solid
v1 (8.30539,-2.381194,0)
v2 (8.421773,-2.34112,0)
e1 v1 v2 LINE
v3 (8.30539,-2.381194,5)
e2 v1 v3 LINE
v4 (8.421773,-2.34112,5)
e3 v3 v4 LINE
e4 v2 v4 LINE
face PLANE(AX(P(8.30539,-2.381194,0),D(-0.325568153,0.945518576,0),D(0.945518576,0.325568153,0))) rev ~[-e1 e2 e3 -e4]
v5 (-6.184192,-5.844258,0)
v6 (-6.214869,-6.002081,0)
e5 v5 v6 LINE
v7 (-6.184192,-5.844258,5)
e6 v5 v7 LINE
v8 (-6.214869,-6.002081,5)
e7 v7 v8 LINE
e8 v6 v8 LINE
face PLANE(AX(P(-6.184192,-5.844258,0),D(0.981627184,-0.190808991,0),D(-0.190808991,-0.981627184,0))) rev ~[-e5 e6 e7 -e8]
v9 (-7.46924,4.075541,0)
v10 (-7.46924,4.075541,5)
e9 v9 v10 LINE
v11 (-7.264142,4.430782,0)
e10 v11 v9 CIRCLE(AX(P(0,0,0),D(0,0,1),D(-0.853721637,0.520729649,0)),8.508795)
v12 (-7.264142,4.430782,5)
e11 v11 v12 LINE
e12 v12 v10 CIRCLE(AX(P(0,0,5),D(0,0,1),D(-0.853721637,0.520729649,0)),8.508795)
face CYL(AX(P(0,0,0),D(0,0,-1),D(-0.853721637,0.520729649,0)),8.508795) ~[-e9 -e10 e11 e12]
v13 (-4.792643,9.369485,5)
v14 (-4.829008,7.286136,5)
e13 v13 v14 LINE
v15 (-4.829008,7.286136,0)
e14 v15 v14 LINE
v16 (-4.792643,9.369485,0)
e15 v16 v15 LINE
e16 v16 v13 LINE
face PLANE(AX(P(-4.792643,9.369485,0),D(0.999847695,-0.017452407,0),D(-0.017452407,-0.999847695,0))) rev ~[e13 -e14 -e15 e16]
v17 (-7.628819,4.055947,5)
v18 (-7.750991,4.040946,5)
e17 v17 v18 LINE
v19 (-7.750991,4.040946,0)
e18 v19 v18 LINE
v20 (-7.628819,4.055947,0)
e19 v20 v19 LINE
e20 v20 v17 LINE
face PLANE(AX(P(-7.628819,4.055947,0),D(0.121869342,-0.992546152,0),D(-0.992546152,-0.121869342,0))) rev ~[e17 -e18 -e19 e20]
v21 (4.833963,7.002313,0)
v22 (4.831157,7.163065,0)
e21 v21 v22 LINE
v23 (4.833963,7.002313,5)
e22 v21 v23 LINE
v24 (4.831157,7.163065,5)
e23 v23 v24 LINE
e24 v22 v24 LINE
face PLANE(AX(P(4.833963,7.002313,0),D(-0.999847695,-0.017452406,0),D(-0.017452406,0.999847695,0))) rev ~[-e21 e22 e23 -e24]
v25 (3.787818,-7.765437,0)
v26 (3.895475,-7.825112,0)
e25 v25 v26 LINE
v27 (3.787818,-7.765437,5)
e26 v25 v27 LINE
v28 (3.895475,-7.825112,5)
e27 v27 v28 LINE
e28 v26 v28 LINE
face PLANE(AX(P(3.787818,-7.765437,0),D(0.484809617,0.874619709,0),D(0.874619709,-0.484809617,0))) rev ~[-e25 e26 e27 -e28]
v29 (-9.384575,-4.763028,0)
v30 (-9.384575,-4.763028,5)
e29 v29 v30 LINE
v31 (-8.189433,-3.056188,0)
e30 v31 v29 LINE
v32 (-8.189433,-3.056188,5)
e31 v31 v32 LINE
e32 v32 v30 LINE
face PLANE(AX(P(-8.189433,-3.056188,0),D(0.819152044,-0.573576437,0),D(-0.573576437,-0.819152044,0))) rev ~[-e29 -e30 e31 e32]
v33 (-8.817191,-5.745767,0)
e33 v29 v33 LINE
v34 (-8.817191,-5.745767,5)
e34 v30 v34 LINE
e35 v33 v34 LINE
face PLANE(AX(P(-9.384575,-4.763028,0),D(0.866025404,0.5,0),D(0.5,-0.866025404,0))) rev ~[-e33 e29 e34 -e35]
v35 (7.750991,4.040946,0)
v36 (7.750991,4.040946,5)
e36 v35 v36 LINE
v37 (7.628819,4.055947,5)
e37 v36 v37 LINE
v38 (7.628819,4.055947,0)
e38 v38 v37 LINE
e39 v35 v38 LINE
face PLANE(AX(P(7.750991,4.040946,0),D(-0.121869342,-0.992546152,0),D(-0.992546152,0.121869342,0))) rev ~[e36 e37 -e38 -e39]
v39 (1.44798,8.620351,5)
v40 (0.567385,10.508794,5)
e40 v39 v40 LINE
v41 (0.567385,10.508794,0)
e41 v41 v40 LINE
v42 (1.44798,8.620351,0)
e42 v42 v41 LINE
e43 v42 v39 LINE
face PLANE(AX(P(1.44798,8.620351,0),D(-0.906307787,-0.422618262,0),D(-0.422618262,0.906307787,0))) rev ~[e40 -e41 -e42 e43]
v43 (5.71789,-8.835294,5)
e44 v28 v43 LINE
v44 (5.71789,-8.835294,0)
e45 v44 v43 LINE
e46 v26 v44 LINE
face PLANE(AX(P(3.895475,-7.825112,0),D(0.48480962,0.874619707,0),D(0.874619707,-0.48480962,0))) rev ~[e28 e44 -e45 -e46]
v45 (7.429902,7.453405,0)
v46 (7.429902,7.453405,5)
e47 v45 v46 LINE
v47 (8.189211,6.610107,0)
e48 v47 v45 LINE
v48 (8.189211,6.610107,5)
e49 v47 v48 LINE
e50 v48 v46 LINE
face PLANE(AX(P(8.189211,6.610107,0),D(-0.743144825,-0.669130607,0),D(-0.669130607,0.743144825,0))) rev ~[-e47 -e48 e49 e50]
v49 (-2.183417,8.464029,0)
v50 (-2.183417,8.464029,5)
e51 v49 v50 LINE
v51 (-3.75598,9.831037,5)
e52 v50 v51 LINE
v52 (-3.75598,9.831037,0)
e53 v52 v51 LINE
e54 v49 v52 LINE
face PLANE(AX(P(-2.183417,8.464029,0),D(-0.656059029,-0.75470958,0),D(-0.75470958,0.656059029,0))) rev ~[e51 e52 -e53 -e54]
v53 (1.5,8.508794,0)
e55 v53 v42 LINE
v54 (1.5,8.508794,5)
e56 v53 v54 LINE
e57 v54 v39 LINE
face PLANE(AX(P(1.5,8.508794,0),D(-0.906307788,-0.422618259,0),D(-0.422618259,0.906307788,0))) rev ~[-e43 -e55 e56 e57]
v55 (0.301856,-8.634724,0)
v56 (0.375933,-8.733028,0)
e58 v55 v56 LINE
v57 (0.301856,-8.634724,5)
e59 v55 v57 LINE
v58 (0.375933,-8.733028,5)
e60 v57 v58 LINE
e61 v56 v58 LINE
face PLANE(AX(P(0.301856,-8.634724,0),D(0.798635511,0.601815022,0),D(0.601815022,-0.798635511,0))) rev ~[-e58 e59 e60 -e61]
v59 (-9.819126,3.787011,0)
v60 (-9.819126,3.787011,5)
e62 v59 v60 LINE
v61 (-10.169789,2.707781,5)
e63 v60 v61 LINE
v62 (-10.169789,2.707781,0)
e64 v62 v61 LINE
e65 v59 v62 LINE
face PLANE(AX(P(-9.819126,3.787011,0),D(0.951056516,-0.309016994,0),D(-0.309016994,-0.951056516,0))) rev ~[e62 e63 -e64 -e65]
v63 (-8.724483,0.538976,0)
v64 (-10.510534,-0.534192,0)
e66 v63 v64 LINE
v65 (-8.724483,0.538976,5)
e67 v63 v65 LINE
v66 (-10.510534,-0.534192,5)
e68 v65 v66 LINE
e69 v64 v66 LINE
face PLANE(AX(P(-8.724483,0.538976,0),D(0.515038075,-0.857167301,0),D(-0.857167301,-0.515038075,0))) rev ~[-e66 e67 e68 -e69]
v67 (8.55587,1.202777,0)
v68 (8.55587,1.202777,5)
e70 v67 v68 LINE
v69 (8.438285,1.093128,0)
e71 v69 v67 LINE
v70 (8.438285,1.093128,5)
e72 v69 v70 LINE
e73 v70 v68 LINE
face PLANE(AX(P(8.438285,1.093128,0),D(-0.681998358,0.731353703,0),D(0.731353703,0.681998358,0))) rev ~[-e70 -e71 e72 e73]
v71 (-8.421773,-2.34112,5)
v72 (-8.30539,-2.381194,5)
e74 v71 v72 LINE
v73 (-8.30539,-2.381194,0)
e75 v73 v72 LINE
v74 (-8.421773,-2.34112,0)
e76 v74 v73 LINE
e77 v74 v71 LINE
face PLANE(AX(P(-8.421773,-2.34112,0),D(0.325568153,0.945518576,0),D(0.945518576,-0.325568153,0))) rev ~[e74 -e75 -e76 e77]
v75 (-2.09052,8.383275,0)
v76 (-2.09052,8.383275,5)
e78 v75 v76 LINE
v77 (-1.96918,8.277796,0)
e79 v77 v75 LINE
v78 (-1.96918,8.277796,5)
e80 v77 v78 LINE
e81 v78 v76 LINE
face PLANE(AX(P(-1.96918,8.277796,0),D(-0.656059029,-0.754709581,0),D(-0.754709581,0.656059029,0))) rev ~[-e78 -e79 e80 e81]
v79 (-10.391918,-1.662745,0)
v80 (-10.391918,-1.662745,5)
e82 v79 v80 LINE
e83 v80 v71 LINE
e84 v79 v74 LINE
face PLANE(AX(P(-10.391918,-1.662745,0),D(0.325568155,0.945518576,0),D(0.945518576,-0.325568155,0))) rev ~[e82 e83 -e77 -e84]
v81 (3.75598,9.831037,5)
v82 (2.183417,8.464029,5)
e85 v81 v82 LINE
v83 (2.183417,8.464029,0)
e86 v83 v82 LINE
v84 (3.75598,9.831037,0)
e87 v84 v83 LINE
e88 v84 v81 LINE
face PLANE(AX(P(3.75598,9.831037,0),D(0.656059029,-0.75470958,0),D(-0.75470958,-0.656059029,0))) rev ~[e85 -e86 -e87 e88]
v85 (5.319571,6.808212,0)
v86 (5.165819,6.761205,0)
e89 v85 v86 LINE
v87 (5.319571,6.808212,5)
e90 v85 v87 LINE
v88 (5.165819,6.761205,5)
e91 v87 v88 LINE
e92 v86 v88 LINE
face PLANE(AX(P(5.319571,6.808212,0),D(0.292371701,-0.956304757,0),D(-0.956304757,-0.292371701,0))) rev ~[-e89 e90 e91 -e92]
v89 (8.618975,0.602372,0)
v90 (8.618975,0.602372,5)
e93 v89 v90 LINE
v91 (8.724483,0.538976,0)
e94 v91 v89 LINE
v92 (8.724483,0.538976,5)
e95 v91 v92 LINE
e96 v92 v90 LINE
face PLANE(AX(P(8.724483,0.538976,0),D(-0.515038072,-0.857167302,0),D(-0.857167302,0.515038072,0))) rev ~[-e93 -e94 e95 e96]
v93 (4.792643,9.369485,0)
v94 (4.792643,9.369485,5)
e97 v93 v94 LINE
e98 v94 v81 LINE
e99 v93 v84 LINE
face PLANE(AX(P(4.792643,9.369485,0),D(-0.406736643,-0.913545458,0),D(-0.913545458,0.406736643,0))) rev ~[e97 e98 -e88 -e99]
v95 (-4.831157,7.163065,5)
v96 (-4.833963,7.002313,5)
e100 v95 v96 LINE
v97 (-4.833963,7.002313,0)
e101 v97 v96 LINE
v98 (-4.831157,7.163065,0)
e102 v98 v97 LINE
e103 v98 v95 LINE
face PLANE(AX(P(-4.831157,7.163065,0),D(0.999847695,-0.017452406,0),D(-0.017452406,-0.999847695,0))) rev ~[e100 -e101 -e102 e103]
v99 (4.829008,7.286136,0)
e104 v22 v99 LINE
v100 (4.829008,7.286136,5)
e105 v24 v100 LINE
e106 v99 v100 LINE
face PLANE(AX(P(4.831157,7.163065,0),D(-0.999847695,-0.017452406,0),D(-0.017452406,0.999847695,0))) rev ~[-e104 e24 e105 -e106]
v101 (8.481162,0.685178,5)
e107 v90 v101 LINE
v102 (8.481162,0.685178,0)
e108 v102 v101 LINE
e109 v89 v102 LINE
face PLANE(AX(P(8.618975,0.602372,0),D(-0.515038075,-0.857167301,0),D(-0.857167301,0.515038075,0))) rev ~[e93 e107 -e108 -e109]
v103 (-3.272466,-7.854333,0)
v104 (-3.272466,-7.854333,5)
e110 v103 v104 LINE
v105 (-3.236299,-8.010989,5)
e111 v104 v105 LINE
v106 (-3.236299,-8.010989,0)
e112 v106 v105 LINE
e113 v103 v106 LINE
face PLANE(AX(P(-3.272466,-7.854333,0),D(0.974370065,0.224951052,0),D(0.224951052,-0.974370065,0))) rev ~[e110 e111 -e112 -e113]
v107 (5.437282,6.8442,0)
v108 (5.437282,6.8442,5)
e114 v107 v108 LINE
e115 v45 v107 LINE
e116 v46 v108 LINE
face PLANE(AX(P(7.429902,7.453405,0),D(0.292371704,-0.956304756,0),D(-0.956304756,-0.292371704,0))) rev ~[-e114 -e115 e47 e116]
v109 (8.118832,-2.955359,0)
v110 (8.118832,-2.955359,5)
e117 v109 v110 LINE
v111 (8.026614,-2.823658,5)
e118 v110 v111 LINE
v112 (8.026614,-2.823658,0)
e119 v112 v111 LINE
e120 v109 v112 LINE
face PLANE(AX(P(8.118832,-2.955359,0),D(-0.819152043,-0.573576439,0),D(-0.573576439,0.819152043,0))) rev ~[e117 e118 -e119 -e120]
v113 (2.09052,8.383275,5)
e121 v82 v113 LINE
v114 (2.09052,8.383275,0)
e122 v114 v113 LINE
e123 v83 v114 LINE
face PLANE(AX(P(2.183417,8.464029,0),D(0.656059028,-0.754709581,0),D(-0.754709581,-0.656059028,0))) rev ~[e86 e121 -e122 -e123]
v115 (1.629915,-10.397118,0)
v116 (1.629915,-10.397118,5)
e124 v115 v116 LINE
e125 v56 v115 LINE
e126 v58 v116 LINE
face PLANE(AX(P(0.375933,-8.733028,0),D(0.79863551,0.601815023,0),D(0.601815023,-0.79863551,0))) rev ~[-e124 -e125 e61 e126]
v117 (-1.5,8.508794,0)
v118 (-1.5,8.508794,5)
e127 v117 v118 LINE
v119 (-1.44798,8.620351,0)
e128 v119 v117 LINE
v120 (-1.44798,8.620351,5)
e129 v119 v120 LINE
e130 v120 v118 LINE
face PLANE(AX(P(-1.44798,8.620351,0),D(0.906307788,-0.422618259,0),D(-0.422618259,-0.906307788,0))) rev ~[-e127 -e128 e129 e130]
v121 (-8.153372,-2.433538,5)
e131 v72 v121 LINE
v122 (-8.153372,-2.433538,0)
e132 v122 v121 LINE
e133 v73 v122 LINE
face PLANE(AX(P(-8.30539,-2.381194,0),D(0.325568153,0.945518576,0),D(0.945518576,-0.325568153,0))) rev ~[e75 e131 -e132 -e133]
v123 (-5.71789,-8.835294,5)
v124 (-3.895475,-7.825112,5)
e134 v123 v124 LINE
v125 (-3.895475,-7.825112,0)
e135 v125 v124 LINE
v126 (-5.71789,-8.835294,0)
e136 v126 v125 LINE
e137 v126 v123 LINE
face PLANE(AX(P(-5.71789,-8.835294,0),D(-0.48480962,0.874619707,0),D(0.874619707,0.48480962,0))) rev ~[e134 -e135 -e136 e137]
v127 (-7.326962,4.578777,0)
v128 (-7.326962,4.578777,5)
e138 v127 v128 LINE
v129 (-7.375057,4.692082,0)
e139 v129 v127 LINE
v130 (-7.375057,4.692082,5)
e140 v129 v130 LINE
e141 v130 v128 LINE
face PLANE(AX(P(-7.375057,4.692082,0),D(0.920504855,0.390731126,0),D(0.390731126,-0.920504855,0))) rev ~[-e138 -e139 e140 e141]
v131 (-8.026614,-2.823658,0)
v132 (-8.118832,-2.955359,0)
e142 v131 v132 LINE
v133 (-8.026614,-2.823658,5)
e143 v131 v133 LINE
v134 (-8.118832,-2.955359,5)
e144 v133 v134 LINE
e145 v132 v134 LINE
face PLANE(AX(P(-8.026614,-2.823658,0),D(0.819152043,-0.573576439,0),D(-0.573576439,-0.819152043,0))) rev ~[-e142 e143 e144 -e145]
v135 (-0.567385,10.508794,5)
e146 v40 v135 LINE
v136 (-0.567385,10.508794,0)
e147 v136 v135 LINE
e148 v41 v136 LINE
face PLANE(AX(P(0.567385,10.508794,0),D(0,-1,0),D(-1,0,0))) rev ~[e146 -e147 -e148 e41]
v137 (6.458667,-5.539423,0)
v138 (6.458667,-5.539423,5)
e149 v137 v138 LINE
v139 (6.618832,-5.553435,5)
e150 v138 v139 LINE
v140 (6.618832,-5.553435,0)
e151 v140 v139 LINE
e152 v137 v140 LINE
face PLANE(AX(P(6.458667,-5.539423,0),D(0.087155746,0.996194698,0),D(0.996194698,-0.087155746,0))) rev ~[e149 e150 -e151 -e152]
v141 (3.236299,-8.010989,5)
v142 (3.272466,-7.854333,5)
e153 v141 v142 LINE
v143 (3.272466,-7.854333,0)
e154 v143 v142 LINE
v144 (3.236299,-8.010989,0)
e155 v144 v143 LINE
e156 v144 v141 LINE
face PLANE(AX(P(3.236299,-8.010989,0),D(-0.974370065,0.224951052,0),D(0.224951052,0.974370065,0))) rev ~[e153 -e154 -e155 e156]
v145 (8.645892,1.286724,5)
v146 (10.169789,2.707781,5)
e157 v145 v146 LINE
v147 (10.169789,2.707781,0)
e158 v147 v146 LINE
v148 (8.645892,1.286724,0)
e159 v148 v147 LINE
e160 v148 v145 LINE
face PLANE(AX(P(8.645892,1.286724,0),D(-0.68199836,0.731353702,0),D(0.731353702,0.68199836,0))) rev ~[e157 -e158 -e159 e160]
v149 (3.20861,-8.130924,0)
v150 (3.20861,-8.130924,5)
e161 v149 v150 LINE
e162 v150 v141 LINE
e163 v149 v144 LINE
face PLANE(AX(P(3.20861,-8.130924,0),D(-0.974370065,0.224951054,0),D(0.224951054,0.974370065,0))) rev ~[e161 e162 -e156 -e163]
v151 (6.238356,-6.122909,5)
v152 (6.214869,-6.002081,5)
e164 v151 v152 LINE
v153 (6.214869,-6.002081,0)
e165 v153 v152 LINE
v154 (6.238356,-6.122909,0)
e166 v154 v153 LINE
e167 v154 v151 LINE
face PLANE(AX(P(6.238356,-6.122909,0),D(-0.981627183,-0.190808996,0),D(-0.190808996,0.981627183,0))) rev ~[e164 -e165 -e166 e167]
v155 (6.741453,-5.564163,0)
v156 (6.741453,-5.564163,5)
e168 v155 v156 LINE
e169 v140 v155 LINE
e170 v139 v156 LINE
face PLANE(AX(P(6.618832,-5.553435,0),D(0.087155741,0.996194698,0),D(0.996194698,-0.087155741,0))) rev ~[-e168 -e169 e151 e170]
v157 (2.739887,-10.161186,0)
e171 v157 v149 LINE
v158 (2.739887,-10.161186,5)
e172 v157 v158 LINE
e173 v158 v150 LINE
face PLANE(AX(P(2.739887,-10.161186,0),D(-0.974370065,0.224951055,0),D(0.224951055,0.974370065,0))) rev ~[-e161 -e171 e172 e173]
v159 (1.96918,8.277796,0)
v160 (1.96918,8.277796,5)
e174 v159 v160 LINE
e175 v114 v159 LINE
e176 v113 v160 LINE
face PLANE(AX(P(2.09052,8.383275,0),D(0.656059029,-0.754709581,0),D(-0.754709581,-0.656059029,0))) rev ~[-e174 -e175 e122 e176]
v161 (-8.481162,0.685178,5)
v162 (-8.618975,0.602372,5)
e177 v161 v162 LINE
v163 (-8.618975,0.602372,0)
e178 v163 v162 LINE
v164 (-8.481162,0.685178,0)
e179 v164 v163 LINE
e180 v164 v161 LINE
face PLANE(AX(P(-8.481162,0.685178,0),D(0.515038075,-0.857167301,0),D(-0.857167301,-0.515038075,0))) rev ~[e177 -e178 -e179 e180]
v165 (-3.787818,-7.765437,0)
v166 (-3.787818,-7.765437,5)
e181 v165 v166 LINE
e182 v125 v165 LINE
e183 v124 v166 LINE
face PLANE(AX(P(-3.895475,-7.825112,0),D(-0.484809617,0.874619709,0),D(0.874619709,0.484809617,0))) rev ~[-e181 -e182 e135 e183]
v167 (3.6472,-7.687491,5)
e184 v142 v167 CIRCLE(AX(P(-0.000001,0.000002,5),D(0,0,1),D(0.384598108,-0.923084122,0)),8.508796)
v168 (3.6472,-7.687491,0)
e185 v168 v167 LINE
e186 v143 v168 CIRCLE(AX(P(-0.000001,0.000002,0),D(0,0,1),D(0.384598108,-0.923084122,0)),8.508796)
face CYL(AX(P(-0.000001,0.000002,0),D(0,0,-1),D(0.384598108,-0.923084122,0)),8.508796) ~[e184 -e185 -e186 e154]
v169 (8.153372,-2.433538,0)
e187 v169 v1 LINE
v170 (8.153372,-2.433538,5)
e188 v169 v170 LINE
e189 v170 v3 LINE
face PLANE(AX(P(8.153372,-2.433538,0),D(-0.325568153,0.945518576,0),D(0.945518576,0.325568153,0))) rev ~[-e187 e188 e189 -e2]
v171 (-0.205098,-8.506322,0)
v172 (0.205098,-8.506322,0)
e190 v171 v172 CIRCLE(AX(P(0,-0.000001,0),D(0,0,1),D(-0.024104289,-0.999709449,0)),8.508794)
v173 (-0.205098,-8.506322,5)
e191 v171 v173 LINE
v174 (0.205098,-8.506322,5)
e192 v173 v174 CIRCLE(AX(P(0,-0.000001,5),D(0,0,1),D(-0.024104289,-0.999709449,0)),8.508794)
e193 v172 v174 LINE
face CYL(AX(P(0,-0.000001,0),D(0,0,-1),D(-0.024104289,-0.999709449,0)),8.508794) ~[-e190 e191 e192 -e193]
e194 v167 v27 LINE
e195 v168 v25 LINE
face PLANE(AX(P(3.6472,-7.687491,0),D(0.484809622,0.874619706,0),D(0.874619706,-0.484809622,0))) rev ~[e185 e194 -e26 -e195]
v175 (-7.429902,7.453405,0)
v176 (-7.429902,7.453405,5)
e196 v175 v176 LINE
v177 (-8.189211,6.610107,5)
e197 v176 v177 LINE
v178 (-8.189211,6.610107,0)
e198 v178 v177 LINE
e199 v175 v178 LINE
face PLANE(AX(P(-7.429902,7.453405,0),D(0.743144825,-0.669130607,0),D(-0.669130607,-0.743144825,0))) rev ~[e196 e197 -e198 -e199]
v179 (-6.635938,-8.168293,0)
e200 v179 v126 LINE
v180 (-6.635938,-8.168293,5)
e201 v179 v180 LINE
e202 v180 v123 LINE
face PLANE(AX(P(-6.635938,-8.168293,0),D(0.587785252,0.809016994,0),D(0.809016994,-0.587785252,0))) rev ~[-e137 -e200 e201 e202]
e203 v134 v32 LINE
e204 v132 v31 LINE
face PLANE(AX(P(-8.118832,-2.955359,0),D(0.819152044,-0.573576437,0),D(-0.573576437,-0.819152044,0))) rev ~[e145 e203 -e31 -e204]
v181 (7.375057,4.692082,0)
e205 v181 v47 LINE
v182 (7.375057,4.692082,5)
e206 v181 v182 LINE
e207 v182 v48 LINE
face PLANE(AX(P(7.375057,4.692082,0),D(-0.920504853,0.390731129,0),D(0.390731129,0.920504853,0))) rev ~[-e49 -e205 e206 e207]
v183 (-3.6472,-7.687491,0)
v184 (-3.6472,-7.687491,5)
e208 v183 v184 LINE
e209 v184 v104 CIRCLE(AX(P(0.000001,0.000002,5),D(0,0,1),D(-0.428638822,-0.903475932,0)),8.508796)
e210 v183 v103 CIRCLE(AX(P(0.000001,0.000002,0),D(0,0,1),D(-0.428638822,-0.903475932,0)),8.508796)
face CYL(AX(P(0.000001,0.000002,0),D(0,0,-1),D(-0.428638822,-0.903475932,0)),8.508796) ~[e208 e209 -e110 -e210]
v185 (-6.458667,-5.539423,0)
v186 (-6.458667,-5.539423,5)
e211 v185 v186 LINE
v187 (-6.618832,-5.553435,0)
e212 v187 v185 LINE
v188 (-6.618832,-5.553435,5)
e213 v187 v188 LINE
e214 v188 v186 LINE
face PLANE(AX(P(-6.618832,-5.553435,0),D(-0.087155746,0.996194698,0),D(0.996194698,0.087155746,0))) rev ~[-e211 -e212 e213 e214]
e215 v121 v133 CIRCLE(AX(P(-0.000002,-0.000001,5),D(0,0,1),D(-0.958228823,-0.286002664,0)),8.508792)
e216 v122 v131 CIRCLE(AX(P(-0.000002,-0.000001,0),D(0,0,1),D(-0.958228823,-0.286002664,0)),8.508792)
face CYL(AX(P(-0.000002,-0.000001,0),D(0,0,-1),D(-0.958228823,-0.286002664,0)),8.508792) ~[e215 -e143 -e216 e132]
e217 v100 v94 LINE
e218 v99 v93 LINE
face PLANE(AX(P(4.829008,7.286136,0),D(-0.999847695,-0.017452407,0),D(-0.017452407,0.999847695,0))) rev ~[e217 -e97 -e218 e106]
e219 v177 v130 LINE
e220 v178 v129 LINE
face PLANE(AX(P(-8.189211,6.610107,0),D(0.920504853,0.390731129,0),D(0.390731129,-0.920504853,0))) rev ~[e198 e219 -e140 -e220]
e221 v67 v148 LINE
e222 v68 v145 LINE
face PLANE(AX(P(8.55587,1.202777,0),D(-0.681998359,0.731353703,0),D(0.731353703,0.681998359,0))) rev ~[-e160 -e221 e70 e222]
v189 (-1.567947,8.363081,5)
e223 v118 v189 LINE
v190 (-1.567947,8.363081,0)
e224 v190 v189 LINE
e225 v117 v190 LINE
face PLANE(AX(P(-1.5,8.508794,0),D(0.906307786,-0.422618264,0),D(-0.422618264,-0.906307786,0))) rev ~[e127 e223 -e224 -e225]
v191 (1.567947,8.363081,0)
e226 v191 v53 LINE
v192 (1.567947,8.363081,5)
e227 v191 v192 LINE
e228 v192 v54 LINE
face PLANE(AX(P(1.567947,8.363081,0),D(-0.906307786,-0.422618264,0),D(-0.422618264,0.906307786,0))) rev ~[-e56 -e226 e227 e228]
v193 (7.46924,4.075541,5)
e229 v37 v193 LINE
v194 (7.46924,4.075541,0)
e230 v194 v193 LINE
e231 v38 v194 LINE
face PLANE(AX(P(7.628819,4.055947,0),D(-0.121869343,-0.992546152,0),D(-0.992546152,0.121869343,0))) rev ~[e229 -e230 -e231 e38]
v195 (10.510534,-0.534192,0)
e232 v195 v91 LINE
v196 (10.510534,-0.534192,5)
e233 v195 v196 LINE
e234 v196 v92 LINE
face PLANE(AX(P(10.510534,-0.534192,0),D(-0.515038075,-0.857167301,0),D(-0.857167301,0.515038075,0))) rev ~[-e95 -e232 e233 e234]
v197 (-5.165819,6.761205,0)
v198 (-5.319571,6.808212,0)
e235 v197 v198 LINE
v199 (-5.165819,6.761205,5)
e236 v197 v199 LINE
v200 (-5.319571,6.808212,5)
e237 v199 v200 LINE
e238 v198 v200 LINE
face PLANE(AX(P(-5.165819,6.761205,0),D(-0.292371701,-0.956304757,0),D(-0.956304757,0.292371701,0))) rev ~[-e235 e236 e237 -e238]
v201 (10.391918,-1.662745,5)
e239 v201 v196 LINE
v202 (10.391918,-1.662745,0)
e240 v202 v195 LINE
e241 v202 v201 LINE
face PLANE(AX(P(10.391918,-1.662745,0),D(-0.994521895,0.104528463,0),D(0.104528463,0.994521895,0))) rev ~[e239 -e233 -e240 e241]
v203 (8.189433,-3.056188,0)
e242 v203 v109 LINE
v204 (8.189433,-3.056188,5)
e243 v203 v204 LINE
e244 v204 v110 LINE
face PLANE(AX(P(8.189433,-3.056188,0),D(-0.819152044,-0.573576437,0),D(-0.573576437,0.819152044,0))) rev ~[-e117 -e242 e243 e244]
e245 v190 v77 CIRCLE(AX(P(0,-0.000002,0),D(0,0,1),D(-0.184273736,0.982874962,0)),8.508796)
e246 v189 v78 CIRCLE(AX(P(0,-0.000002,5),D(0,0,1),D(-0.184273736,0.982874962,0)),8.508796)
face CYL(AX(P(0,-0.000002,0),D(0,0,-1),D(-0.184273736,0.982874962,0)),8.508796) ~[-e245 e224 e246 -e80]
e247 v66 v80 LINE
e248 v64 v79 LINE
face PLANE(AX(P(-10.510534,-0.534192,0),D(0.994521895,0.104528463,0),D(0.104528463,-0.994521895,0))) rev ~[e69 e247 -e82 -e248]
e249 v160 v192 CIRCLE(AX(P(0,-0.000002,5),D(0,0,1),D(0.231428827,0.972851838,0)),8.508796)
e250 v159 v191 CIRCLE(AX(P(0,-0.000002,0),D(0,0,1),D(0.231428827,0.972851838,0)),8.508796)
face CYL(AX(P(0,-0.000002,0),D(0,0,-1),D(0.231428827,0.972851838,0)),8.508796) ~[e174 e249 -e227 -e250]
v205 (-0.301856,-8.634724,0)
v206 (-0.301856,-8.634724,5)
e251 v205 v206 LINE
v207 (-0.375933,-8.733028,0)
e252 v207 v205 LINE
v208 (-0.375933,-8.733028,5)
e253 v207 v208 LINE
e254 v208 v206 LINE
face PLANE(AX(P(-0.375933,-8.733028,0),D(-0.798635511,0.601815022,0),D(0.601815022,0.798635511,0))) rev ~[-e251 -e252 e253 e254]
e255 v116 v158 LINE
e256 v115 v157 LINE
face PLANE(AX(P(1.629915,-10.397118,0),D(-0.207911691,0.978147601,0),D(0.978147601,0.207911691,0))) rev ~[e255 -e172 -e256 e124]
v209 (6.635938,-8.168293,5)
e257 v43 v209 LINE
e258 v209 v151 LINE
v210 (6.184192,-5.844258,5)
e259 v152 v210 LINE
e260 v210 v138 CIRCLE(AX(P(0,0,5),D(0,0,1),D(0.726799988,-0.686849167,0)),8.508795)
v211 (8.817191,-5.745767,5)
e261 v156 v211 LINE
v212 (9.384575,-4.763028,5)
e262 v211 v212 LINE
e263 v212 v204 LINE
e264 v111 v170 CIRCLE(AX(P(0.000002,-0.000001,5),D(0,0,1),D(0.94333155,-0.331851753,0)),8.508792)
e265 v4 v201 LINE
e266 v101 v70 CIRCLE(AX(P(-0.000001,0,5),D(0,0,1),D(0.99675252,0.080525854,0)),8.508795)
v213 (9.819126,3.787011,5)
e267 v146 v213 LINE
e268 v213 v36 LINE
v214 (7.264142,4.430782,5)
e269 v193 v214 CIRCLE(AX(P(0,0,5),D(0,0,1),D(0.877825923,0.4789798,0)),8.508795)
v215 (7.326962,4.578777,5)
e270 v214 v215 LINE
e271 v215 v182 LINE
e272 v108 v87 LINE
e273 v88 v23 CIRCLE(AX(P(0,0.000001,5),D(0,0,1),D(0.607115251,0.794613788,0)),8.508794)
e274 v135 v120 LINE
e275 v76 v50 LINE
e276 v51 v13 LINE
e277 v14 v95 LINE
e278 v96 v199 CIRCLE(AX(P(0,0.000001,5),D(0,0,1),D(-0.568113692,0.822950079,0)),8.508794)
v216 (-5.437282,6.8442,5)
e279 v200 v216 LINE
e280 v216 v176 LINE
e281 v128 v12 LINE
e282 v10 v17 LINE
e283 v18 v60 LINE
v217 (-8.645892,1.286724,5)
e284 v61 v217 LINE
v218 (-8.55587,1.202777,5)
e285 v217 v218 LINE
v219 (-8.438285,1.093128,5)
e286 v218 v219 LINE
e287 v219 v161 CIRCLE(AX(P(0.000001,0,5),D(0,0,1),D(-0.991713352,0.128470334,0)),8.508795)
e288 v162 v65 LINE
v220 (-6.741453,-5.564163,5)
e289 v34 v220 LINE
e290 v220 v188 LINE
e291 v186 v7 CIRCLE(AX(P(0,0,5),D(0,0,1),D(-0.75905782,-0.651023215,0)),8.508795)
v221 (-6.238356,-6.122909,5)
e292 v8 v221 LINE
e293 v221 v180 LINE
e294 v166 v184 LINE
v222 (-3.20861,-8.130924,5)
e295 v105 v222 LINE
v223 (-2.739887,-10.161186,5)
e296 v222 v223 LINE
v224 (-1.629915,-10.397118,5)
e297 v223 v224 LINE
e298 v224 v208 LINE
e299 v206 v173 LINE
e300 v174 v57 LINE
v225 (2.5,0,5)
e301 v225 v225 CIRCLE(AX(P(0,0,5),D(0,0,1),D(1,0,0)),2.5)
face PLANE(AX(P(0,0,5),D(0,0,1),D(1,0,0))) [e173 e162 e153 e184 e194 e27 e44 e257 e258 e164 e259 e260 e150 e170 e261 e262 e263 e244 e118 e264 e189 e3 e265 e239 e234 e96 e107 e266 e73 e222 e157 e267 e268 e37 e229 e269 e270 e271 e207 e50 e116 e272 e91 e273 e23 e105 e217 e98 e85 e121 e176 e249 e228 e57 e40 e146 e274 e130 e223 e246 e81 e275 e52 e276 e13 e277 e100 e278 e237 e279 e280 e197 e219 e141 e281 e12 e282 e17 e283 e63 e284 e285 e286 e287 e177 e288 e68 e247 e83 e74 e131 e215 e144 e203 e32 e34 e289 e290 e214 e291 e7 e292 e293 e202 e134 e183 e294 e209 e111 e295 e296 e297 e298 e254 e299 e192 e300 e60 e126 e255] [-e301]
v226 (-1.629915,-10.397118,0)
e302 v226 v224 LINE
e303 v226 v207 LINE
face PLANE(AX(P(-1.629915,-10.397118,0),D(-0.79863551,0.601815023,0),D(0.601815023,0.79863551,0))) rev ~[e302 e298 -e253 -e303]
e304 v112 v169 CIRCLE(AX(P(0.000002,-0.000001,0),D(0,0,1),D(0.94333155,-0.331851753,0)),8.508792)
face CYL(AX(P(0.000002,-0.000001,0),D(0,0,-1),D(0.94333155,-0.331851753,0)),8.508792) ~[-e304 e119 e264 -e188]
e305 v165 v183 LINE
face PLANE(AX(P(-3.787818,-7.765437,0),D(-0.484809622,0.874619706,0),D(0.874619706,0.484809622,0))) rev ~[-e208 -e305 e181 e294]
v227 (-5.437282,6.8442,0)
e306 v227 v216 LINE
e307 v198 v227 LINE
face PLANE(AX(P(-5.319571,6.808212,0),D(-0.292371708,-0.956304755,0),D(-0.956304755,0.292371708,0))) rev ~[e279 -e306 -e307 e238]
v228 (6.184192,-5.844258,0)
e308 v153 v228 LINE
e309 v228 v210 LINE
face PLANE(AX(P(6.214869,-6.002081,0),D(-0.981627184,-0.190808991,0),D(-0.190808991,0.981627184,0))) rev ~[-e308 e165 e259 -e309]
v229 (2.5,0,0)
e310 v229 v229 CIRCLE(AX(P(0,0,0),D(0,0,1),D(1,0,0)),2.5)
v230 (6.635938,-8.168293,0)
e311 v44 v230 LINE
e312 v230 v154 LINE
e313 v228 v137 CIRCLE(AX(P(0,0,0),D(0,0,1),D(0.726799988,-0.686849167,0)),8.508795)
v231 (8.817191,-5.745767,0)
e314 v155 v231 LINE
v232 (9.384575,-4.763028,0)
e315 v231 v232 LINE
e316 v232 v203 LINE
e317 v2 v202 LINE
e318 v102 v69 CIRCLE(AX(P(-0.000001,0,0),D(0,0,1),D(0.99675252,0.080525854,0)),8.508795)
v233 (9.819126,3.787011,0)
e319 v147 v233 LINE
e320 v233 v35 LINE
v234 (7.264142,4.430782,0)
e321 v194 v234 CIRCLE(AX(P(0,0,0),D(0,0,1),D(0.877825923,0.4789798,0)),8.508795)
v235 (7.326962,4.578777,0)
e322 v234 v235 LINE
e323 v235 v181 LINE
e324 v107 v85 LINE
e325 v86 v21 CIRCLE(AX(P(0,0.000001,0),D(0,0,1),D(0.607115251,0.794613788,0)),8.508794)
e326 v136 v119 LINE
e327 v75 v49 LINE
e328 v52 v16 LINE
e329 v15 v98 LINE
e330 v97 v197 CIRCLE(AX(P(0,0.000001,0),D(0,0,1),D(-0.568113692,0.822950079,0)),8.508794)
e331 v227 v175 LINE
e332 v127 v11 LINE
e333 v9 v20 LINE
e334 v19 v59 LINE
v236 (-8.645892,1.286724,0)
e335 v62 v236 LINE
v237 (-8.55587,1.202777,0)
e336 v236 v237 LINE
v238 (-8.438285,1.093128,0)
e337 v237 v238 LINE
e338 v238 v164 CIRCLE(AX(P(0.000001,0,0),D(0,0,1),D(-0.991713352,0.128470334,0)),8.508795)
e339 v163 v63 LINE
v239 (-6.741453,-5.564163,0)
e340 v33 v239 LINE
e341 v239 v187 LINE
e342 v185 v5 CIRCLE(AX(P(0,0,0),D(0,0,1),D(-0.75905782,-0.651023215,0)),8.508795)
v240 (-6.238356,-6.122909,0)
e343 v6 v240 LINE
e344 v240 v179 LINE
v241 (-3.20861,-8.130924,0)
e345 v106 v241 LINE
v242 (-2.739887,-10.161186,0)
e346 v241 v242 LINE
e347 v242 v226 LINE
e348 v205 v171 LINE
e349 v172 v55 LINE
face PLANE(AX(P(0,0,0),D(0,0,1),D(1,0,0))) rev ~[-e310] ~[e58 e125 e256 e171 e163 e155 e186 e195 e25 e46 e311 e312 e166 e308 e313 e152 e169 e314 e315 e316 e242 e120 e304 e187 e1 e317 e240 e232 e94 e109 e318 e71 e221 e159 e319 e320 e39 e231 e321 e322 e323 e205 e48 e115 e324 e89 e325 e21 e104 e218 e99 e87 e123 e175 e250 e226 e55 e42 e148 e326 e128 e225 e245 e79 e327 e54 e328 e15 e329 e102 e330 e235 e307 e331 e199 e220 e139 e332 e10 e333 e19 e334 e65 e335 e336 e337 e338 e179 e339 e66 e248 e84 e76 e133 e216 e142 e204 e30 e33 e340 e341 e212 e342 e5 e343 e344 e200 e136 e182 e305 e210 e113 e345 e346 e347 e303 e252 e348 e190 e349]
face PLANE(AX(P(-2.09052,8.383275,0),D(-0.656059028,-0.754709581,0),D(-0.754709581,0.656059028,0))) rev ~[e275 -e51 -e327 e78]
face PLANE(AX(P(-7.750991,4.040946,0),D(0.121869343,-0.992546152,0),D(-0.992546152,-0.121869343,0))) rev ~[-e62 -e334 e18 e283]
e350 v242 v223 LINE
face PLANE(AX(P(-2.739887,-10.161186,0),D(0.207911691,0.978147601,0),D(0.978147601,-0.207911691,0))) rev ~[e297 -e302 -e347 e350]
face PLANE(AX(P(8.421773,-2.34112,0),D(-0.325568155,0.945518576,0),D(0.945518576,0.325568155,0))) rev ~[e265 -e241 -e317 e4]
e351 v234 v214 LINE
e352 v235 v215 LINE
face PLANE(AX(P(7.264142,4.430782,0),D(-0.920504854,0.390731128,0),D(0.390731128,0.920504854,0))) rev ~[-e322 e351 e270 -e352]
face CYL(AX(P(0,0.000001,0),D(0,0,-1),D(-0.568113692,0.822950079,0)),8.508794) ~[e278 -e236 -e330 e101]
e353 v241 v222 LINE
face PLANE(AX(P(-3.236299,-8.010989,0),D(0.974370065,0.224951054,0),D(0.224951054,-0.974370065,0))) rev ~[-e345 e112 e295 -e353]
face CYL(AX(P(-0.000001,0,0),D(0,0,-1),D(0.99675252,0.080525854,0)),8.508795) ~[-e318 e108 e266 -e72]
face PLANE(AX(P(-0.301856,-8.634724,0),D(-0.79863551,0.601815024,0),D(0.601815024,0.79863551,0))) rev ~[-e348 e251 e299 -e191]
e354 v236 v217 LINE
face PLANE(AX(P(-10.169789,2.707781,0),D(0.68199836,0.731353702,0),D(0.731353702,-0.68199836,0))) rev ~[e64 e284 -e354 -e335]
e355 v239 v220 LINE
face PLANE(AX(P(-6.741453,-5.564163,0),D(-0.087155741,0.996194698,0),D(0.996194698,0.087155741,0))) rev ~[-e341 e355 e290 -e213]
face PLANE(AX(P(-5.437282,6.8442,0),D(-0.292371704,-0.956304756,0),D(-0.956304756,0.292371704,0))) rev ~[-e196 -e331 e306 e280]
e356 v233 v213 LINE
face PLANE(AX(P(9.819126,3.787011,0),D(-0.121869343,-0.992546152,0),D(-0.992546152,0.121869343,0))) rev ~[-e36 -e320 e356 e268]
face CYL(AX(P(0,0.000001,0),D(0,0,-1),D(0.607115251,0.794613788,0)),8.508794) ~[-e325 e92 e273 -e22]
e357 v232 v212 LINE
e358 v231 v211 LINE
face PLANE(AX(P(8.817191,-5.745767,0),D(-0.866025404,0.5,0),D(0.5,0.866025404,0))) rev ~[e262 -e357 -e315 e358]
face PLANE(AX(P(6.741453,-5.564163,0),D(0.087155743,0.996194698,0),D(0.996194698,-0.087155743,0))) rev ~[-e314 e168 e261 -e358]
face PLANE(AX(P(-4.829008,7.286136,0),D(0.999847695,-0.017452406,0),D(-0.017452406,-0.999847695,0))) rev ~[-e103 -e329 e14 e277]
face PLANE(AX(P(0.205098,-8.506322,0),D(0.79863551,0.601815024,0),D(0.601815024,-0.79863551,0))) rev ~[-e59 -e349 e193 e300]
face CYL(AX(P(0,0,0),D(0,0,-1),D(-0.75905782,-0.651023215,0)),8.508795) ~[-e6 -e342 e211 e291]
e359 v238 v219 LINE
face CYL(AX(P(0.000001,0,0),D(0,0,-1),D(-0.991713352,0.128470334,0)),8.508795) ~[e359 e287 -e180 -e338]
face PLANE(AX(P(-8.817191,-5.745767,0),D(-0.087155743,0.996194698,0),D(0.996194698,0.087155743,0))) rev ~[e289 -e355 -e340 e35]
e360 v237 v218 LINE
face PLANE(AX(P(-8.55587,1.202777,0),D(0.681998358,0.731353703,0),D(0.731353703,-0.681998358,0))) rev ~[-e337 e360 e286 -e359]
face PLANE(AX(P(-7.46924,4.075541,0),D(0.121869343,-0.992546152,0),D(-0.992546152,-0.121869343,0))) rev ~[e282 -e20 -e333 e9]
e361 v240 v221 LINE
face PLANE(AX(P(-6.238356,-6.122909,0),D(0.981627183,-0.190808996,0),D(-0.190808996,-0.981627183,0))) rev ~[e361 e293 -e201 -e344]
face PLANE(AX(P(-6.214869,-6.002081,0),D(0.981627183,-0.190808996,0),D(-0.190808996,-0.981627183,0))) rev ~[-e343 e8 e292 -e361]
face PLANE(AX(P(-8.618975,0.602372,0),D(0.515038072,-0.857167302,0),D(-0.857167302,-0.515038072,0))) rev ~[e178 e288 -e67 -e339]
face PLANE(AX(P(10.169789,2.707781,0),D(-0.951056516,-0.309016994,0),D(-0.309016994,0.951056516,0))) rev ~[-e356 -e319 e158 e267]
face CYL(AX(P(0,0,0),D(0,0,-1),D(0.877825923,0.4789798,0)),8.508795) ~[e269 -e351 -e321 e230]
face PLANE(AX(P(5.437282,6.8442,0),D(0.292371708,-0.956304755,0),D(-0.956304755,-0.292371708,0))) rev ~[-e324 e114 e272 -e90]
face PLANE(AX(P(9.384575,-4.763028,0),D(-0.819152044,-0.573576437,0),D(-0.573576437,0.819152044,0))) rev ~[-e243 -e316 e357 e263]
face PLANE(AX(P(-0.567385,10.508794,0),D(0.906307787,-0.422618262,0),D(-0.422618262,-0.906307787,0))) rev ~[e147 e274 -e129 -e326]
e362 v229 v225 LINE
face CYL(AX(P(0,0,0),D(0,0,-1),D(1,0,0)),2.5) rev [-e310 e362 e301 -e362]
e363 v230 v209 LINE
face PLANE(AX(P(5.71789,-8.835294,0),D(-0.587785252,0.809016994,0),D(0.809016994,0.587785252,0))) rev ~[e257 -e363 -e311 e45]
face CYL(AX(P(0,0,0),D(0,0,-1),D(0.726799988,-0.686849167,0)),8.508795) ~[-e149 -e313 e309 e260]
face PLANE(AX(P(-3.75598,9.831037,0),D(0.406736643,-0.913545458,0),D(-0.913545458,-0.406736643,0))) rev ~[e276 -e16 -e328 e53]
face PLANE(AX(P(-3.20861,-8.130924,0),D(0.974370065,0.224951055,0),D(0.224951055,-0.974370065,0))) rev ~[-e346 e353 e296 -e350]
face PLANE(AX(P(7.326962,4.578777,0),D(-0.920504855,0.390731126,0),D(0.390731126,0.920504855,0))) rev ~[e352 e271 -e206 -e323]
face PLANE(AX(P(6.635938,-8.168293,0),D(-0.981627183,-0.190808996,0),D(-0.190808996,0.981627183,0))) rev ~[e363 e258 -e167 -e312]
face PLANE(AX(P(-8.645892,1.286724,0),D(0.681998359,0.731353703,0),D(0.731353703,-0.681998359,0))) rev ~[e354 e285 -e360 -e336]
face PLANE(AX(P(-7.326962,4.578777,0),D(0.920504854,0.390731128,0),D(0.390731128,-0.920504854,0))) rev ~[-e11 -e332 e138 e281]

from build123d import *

# Parameters (mm, degrees)
SKETCH1_R           = 2.5
BOSS_EXTRUDE1_DEPTH = 5


with BuildPart() as part:
    # Sketch1 → Boss-Extrude1 (new body)
    with BuildSketch(Plane.XY):
        with BuildLine():
            Line((4.833962587, 7.00231299), (4.831156642, 7.163065475))
            Line((4.831156642, 7.163065475), (4.829008435, 7.286136175))
            Line((4.829008435, 7.286136175), (4.792643442, 9.369485213))
            Line((4.792643442, 9.369485213), (3.755980041, 9.831037496))
            Line((3.755980041, 9.831037496), (2.183417054, 8.464029347))
            Line((2.183417054, 8.464029347), (2.090520269, 8.383275404))
            Line((2.090520269, 8.383275404), (1.969180348, 8.27779622))
            ThreePointArc((1.969180348, 8.27779622), (1.769077823, 8.32285679), (1.567947285, 8.36308094))
            Line((1.567947285, 8.36308094), (1.5, 8.508794362))
            Line((1.5, 8.508794362), (1.447980152, 8.620351287))
            Line((1.447980152, 8.620351287), (0.567384684, 10.508794362))
            Line((0.567384684, 10.508794362), (-0.567384684, 10.508794362))
            Line((-0.567384684, 10.508794362), (-1.447980152, 8.620351287))
            Line((-1.447980152, 8.620351287), (-1.5, 8.508794362))
            Line((-1.5, 8.508794362), (-1.567947285, 8.36308094))
            ThreePointArc((-1.567947285, 8.36308094), (-1.769077823, 8.32285679), (-1.969180348, 8.27779622))
            Line((-1.969180348, 8.27779622), (-2.090520269, 8.383275404))
            Line((-2.090520269, 8.383275404), (-2.183417054, 8.464029347))
            Line((-2.183417054, 8.464029347), (-3.755980041, 9.831037496))
            Line((-3.755980041, 9.831037496), (-4.792643442, 9.369485213))
            Line((-4.792643442, 9.369485213), (-4.829008435, 7.286136175))
            Line((-4.829008435, 7.286136175), (-4.831156642, 7.163065475))
            Line((-4.831156642, 7.163065475), (-4.833962587, 7.00231299))
            ThreePointArc((-4.833962587, 7.00231299), (-5.001343841, 6.883759241), (-5.165818808, 6.761205332))
            Line((-5.165818808, 6.761205332), (-5.319570592, 6.808211969))
            Line((-5.319570592, 6.808211969), (-5.437281616, 6.844199841))
            Line((-5.437281616, 6.844199841), (-7.429901695, 7.453404935))
            Line((-7.429901695, 7.453404935), (-8.18921061, 6.610106952))
            Line((-8.18921061, 6.610106952), (-7.375057289, 4.692081926))
            Line((-7.375057289, 4.692081926), (-7.326962411, 4.578777493))
            Line((-7.326962411, 4.578777493), (-7.264141843, 4.430781509))
            ThreePointArc((-7.264141843, 4.430781509), (-7.368832073, 4.254397181), (-7.469240267, 4.075540618))
            Line((-7.469240267, 4.075540618), (-7.628818832, 4.055946834))
            Line((-7.628818832, 4.055946834), (-7.75099079, 4.040946004))
            Line((-7.75099079, 4.040946004), (-9.819125847, 3.787010949))
            Line((-9.819125847, 3.787010949), (-10.169788866, 2.707781148))
            Line((-10.169788866, 2.707781148), (-8.645891738, 1.286724086))
            Line((-8.645891738, 1.286724086), (-8.555869815, 1.202777285))
            Line((-8.555869815, 1.202777285), (-8.438284981, 1.093127654))
            ThreePointArc((-8.438284981, 1.093127654), (-8.462182296, 0.889411199), (-8.481162228, 0.685177906))
            Line((-8.481162228, 0.685177906), (-8.618974991, 0.602371644))
            Line((-8.618974991, 0.602371644), (-8.724483241, 0.538975892))
            Line((-8.724483241, 0.538975892), (-10.510533936, -0.534191634))
            Line((-10.510533936, -0.534191634), (-10.391918238, -1.662744616))
            Line((-10.391918238, -1.662744616), (-8.42177296, -2.341120038))
            Line((-8.42177296, -2.341120038), (-8.305389601, -2.381194042))
            Line((-8.305389601, -2.381194042), (-8.153371987, -2.433537904))
            ThreePointArc((-8.153371987, -2.433537904), (-8.092344324, -2.62936206), (-8.02661419, -2.82365829))
            Line((-8.02661419, -2.82365829), (-8.118832073, -2.955359075))
            Line((-8.118832073, -2.955359075), (-8.18943328, -3.056188048))
            Line((-8.18943328, -3.056188048), (-9.384575223, -4.763027631))
            Line((-9.384575223, -4.763027631), (-8.817190539, -5.745766731))
            Line((-8.817190539, -5.745766731), (-6.741453128, -5.564163239))
            Line((-6.741453128, -5.564163239), (-6.618832073, -5.553435287))
            Line((-6.618832073, -5.553435287), (-6.458666906, -5.53942265))
            ThreePointArc((-6.458666906, -5.53942265), (-6.323266501, -5.693494731), (-6.18419164, -5.844258315))
            Line((-6.18419164, -5.844258315), (-6.214869332, -6.002081362))
            Line((-6.214869332, -6.002081362), (-6.238355906, -6.12290931))
            Line((-6.238355906, -6.12290931), (-6.635938197, -8.16829288))
            Line((-6.635938197, -8.16829288), (-5.717890494, -8.835293579))
            Line((-5.717890494, -8.835293579), (-3.895474806, -7.825112067))
            Line((-3.895474806, -7.825112067), (-3.787818349, -7.765437119))
            Line((-3.787818349, -7.765437119), (-3.647199641, -7.687490896))
            ThreePointArc((-3.647199641, -7.687490896), (-3.460838455, -7.773170439), (-3.272466173, -7.854332985))
            Line((-3.272466173, -7.854332985), (-3.236299224, -8.010989254))
            Line((-3.236299224, -8.010989254), (-3.208610123, -8.130923927))
            Line((-3.208610123, -8.130923927), (-2.739887171, -10.161186083))
            Line((-2.739887171, -10.161186083), (-1.629915237, -10.397117901))
            Line((-1.629915237, -10.397117901), (-0.3759335, -8.73302793))
            Line((-0.3759335, -8.73302793), (-0.301856422, -8.634724327))
            Line((-0.301856422, -8.634724327), (-0.205098424, -8.506322127))
            ThreePointArc((-0.205098424, -8.506322127), (0, -8.508794362), (0.205098424, -8.506322127))
            Line((0.205098424, -8.506322127), (0.301856422, -8.634724327))
            Line((0.301856422, -8.634724327), (0.3759335, -8.73302793))
            Line((0.3759335, -8.73302793), (1.629915237, -10.397117901))
            Line((1.629915237, -10.397117901), (2.739887171, -10.161186083))
            Line((2.739887171, -10.161186083), (3.208610123, -8.130923927))
            Line((3.208610123, -8.130923927), (3.236299224, -8.010989254))
            Line((3.236299224, -8.010989254), (3.272466173, -7.854332985))
            ThreePointArc((3.272466173, -7.854332985), (3.460838455, -7.773170439), (3.647199641, -7.687490896))
            Line((3.647199641, -7.687490896), (3.787818349, -7.765437119))
            Line((3.787818349, -7.765437119), (3.895474806, -7.825112067))
            Line((3.895474806, -7.825112067), (5.717890494, -8.835293579))
            Line((5.717890494, -8.835293579), (6.635938197, -8.16829288))
            Line((6.635938197, -8.16829288), (6.238355906, -6.12290931))
            Line((6.238355906, -6.12290931), (6.214869332, -6.002081362))
            Line((6.214869332, -6.002081362), (6.18419164, -5.844258315))
            ThreePointArc((6.18419164, -5.844258315), (6.323266501, -5.693494731), (6.458666906, -5.53942265))
            Line((6.458666906, -5.53942265), (6.618832073, -5.553435287))
            Line((6.618832073, -5.553435287), (6.741453128, -5.564163239))
            Line((6.741453128, -5.564163239), (8.817190539, -5.745766731))
            Line((8.817190539, -5.745766731), (9.384575223, -4.763027631))
            Line((9.384575223, -4.763027631), (8.18943328, -3.056188048))
            Line((8.18943328, -3.056188048), (8.118832073, -2.955359075))
            Line((8.118832073, -2.955359075), (8.02661419, -2.82365829))
            ThreePointArc((8.02661419, -2.82365829), (8.092344324, -2.62936206), (8.153371987, -2.433537904))
            Line((8.153371987, -2.433537904), (8.305389601, -2.381194042))
            Line((8.305389601, -2.381194042), (8.42177296, -2.341120038))
            Line((8.42177296, -2.341120038), (10.391918238, -1.662744616))
            Line((10.391918238, -1.662744616), (10.510533936, -0.534191634))
            Line((10.510533936, -0.534191634), (8.724483241, 0.538975892))
            Line((8.724483241, 0.538975892), (8.618974991, 0.602371644))
            Line((8.618974991, 0.602371644), (8.481162228, 0.685177906))
            ThreePointArc((8.481162228, 0.685177906), (8.462182296, 0.889411199), (8.438284981, 1.093127654))
            Line((8.438284981, 1.093127654), (8.555869815, 1.202777285))
            Line((8.555869815, 1.202777285), (8.645891738, 1.286724086))
            Line((8.645891738, 1.286724086), (10.169788866, 2.707781148))
            Line((10.169788866, 2.707781148), (9.819125847, 3.787010949))
            Line((9.819125847, 3.787010949), (7.75099079, 4.040946004))
            Line((7.75099079, 4.040946004), (7.628818832, 4.055946834))
            Line((7.628818832, 4.055946834), (7.469240267, 4.075540618))
            ThreePointArc((7.469240267, 4.075540618), (7.368832073, 4.254397181), (7.264141843, 4.430781509))
            Line((7.264141843, 4.430781509), (7.326962411, 4.578777493))
            Line((7.326962411, 4.578777493), (7.375057289, 4.692081926))
            Line((7.375057289, 4.692081926), (8.18921061, 6.610106952))
            Line((8.18921061, 6.610106952), (7.429901695, 7.453404935))
            Line((7.429901695, 7.453404935), (5.437281616, 6.844199841))
            Line((5.437281616, 6.844199841), (5.319570592, 6.808211969))
            Line((5.319570592, 6.808211969), (5.165818808, 6.761205332))
            ThreePointArc((5.165818808, 6.761205332), (5.001343841, 6.883759241), (4.833962587, 7.00231299))
        make_face()
        Circle(SKETCH1_R, mode=Mode.SUBTRACT)
    extrude(amount=BOSS_EXTRUDE1_DEPTH)


solid = part.part
